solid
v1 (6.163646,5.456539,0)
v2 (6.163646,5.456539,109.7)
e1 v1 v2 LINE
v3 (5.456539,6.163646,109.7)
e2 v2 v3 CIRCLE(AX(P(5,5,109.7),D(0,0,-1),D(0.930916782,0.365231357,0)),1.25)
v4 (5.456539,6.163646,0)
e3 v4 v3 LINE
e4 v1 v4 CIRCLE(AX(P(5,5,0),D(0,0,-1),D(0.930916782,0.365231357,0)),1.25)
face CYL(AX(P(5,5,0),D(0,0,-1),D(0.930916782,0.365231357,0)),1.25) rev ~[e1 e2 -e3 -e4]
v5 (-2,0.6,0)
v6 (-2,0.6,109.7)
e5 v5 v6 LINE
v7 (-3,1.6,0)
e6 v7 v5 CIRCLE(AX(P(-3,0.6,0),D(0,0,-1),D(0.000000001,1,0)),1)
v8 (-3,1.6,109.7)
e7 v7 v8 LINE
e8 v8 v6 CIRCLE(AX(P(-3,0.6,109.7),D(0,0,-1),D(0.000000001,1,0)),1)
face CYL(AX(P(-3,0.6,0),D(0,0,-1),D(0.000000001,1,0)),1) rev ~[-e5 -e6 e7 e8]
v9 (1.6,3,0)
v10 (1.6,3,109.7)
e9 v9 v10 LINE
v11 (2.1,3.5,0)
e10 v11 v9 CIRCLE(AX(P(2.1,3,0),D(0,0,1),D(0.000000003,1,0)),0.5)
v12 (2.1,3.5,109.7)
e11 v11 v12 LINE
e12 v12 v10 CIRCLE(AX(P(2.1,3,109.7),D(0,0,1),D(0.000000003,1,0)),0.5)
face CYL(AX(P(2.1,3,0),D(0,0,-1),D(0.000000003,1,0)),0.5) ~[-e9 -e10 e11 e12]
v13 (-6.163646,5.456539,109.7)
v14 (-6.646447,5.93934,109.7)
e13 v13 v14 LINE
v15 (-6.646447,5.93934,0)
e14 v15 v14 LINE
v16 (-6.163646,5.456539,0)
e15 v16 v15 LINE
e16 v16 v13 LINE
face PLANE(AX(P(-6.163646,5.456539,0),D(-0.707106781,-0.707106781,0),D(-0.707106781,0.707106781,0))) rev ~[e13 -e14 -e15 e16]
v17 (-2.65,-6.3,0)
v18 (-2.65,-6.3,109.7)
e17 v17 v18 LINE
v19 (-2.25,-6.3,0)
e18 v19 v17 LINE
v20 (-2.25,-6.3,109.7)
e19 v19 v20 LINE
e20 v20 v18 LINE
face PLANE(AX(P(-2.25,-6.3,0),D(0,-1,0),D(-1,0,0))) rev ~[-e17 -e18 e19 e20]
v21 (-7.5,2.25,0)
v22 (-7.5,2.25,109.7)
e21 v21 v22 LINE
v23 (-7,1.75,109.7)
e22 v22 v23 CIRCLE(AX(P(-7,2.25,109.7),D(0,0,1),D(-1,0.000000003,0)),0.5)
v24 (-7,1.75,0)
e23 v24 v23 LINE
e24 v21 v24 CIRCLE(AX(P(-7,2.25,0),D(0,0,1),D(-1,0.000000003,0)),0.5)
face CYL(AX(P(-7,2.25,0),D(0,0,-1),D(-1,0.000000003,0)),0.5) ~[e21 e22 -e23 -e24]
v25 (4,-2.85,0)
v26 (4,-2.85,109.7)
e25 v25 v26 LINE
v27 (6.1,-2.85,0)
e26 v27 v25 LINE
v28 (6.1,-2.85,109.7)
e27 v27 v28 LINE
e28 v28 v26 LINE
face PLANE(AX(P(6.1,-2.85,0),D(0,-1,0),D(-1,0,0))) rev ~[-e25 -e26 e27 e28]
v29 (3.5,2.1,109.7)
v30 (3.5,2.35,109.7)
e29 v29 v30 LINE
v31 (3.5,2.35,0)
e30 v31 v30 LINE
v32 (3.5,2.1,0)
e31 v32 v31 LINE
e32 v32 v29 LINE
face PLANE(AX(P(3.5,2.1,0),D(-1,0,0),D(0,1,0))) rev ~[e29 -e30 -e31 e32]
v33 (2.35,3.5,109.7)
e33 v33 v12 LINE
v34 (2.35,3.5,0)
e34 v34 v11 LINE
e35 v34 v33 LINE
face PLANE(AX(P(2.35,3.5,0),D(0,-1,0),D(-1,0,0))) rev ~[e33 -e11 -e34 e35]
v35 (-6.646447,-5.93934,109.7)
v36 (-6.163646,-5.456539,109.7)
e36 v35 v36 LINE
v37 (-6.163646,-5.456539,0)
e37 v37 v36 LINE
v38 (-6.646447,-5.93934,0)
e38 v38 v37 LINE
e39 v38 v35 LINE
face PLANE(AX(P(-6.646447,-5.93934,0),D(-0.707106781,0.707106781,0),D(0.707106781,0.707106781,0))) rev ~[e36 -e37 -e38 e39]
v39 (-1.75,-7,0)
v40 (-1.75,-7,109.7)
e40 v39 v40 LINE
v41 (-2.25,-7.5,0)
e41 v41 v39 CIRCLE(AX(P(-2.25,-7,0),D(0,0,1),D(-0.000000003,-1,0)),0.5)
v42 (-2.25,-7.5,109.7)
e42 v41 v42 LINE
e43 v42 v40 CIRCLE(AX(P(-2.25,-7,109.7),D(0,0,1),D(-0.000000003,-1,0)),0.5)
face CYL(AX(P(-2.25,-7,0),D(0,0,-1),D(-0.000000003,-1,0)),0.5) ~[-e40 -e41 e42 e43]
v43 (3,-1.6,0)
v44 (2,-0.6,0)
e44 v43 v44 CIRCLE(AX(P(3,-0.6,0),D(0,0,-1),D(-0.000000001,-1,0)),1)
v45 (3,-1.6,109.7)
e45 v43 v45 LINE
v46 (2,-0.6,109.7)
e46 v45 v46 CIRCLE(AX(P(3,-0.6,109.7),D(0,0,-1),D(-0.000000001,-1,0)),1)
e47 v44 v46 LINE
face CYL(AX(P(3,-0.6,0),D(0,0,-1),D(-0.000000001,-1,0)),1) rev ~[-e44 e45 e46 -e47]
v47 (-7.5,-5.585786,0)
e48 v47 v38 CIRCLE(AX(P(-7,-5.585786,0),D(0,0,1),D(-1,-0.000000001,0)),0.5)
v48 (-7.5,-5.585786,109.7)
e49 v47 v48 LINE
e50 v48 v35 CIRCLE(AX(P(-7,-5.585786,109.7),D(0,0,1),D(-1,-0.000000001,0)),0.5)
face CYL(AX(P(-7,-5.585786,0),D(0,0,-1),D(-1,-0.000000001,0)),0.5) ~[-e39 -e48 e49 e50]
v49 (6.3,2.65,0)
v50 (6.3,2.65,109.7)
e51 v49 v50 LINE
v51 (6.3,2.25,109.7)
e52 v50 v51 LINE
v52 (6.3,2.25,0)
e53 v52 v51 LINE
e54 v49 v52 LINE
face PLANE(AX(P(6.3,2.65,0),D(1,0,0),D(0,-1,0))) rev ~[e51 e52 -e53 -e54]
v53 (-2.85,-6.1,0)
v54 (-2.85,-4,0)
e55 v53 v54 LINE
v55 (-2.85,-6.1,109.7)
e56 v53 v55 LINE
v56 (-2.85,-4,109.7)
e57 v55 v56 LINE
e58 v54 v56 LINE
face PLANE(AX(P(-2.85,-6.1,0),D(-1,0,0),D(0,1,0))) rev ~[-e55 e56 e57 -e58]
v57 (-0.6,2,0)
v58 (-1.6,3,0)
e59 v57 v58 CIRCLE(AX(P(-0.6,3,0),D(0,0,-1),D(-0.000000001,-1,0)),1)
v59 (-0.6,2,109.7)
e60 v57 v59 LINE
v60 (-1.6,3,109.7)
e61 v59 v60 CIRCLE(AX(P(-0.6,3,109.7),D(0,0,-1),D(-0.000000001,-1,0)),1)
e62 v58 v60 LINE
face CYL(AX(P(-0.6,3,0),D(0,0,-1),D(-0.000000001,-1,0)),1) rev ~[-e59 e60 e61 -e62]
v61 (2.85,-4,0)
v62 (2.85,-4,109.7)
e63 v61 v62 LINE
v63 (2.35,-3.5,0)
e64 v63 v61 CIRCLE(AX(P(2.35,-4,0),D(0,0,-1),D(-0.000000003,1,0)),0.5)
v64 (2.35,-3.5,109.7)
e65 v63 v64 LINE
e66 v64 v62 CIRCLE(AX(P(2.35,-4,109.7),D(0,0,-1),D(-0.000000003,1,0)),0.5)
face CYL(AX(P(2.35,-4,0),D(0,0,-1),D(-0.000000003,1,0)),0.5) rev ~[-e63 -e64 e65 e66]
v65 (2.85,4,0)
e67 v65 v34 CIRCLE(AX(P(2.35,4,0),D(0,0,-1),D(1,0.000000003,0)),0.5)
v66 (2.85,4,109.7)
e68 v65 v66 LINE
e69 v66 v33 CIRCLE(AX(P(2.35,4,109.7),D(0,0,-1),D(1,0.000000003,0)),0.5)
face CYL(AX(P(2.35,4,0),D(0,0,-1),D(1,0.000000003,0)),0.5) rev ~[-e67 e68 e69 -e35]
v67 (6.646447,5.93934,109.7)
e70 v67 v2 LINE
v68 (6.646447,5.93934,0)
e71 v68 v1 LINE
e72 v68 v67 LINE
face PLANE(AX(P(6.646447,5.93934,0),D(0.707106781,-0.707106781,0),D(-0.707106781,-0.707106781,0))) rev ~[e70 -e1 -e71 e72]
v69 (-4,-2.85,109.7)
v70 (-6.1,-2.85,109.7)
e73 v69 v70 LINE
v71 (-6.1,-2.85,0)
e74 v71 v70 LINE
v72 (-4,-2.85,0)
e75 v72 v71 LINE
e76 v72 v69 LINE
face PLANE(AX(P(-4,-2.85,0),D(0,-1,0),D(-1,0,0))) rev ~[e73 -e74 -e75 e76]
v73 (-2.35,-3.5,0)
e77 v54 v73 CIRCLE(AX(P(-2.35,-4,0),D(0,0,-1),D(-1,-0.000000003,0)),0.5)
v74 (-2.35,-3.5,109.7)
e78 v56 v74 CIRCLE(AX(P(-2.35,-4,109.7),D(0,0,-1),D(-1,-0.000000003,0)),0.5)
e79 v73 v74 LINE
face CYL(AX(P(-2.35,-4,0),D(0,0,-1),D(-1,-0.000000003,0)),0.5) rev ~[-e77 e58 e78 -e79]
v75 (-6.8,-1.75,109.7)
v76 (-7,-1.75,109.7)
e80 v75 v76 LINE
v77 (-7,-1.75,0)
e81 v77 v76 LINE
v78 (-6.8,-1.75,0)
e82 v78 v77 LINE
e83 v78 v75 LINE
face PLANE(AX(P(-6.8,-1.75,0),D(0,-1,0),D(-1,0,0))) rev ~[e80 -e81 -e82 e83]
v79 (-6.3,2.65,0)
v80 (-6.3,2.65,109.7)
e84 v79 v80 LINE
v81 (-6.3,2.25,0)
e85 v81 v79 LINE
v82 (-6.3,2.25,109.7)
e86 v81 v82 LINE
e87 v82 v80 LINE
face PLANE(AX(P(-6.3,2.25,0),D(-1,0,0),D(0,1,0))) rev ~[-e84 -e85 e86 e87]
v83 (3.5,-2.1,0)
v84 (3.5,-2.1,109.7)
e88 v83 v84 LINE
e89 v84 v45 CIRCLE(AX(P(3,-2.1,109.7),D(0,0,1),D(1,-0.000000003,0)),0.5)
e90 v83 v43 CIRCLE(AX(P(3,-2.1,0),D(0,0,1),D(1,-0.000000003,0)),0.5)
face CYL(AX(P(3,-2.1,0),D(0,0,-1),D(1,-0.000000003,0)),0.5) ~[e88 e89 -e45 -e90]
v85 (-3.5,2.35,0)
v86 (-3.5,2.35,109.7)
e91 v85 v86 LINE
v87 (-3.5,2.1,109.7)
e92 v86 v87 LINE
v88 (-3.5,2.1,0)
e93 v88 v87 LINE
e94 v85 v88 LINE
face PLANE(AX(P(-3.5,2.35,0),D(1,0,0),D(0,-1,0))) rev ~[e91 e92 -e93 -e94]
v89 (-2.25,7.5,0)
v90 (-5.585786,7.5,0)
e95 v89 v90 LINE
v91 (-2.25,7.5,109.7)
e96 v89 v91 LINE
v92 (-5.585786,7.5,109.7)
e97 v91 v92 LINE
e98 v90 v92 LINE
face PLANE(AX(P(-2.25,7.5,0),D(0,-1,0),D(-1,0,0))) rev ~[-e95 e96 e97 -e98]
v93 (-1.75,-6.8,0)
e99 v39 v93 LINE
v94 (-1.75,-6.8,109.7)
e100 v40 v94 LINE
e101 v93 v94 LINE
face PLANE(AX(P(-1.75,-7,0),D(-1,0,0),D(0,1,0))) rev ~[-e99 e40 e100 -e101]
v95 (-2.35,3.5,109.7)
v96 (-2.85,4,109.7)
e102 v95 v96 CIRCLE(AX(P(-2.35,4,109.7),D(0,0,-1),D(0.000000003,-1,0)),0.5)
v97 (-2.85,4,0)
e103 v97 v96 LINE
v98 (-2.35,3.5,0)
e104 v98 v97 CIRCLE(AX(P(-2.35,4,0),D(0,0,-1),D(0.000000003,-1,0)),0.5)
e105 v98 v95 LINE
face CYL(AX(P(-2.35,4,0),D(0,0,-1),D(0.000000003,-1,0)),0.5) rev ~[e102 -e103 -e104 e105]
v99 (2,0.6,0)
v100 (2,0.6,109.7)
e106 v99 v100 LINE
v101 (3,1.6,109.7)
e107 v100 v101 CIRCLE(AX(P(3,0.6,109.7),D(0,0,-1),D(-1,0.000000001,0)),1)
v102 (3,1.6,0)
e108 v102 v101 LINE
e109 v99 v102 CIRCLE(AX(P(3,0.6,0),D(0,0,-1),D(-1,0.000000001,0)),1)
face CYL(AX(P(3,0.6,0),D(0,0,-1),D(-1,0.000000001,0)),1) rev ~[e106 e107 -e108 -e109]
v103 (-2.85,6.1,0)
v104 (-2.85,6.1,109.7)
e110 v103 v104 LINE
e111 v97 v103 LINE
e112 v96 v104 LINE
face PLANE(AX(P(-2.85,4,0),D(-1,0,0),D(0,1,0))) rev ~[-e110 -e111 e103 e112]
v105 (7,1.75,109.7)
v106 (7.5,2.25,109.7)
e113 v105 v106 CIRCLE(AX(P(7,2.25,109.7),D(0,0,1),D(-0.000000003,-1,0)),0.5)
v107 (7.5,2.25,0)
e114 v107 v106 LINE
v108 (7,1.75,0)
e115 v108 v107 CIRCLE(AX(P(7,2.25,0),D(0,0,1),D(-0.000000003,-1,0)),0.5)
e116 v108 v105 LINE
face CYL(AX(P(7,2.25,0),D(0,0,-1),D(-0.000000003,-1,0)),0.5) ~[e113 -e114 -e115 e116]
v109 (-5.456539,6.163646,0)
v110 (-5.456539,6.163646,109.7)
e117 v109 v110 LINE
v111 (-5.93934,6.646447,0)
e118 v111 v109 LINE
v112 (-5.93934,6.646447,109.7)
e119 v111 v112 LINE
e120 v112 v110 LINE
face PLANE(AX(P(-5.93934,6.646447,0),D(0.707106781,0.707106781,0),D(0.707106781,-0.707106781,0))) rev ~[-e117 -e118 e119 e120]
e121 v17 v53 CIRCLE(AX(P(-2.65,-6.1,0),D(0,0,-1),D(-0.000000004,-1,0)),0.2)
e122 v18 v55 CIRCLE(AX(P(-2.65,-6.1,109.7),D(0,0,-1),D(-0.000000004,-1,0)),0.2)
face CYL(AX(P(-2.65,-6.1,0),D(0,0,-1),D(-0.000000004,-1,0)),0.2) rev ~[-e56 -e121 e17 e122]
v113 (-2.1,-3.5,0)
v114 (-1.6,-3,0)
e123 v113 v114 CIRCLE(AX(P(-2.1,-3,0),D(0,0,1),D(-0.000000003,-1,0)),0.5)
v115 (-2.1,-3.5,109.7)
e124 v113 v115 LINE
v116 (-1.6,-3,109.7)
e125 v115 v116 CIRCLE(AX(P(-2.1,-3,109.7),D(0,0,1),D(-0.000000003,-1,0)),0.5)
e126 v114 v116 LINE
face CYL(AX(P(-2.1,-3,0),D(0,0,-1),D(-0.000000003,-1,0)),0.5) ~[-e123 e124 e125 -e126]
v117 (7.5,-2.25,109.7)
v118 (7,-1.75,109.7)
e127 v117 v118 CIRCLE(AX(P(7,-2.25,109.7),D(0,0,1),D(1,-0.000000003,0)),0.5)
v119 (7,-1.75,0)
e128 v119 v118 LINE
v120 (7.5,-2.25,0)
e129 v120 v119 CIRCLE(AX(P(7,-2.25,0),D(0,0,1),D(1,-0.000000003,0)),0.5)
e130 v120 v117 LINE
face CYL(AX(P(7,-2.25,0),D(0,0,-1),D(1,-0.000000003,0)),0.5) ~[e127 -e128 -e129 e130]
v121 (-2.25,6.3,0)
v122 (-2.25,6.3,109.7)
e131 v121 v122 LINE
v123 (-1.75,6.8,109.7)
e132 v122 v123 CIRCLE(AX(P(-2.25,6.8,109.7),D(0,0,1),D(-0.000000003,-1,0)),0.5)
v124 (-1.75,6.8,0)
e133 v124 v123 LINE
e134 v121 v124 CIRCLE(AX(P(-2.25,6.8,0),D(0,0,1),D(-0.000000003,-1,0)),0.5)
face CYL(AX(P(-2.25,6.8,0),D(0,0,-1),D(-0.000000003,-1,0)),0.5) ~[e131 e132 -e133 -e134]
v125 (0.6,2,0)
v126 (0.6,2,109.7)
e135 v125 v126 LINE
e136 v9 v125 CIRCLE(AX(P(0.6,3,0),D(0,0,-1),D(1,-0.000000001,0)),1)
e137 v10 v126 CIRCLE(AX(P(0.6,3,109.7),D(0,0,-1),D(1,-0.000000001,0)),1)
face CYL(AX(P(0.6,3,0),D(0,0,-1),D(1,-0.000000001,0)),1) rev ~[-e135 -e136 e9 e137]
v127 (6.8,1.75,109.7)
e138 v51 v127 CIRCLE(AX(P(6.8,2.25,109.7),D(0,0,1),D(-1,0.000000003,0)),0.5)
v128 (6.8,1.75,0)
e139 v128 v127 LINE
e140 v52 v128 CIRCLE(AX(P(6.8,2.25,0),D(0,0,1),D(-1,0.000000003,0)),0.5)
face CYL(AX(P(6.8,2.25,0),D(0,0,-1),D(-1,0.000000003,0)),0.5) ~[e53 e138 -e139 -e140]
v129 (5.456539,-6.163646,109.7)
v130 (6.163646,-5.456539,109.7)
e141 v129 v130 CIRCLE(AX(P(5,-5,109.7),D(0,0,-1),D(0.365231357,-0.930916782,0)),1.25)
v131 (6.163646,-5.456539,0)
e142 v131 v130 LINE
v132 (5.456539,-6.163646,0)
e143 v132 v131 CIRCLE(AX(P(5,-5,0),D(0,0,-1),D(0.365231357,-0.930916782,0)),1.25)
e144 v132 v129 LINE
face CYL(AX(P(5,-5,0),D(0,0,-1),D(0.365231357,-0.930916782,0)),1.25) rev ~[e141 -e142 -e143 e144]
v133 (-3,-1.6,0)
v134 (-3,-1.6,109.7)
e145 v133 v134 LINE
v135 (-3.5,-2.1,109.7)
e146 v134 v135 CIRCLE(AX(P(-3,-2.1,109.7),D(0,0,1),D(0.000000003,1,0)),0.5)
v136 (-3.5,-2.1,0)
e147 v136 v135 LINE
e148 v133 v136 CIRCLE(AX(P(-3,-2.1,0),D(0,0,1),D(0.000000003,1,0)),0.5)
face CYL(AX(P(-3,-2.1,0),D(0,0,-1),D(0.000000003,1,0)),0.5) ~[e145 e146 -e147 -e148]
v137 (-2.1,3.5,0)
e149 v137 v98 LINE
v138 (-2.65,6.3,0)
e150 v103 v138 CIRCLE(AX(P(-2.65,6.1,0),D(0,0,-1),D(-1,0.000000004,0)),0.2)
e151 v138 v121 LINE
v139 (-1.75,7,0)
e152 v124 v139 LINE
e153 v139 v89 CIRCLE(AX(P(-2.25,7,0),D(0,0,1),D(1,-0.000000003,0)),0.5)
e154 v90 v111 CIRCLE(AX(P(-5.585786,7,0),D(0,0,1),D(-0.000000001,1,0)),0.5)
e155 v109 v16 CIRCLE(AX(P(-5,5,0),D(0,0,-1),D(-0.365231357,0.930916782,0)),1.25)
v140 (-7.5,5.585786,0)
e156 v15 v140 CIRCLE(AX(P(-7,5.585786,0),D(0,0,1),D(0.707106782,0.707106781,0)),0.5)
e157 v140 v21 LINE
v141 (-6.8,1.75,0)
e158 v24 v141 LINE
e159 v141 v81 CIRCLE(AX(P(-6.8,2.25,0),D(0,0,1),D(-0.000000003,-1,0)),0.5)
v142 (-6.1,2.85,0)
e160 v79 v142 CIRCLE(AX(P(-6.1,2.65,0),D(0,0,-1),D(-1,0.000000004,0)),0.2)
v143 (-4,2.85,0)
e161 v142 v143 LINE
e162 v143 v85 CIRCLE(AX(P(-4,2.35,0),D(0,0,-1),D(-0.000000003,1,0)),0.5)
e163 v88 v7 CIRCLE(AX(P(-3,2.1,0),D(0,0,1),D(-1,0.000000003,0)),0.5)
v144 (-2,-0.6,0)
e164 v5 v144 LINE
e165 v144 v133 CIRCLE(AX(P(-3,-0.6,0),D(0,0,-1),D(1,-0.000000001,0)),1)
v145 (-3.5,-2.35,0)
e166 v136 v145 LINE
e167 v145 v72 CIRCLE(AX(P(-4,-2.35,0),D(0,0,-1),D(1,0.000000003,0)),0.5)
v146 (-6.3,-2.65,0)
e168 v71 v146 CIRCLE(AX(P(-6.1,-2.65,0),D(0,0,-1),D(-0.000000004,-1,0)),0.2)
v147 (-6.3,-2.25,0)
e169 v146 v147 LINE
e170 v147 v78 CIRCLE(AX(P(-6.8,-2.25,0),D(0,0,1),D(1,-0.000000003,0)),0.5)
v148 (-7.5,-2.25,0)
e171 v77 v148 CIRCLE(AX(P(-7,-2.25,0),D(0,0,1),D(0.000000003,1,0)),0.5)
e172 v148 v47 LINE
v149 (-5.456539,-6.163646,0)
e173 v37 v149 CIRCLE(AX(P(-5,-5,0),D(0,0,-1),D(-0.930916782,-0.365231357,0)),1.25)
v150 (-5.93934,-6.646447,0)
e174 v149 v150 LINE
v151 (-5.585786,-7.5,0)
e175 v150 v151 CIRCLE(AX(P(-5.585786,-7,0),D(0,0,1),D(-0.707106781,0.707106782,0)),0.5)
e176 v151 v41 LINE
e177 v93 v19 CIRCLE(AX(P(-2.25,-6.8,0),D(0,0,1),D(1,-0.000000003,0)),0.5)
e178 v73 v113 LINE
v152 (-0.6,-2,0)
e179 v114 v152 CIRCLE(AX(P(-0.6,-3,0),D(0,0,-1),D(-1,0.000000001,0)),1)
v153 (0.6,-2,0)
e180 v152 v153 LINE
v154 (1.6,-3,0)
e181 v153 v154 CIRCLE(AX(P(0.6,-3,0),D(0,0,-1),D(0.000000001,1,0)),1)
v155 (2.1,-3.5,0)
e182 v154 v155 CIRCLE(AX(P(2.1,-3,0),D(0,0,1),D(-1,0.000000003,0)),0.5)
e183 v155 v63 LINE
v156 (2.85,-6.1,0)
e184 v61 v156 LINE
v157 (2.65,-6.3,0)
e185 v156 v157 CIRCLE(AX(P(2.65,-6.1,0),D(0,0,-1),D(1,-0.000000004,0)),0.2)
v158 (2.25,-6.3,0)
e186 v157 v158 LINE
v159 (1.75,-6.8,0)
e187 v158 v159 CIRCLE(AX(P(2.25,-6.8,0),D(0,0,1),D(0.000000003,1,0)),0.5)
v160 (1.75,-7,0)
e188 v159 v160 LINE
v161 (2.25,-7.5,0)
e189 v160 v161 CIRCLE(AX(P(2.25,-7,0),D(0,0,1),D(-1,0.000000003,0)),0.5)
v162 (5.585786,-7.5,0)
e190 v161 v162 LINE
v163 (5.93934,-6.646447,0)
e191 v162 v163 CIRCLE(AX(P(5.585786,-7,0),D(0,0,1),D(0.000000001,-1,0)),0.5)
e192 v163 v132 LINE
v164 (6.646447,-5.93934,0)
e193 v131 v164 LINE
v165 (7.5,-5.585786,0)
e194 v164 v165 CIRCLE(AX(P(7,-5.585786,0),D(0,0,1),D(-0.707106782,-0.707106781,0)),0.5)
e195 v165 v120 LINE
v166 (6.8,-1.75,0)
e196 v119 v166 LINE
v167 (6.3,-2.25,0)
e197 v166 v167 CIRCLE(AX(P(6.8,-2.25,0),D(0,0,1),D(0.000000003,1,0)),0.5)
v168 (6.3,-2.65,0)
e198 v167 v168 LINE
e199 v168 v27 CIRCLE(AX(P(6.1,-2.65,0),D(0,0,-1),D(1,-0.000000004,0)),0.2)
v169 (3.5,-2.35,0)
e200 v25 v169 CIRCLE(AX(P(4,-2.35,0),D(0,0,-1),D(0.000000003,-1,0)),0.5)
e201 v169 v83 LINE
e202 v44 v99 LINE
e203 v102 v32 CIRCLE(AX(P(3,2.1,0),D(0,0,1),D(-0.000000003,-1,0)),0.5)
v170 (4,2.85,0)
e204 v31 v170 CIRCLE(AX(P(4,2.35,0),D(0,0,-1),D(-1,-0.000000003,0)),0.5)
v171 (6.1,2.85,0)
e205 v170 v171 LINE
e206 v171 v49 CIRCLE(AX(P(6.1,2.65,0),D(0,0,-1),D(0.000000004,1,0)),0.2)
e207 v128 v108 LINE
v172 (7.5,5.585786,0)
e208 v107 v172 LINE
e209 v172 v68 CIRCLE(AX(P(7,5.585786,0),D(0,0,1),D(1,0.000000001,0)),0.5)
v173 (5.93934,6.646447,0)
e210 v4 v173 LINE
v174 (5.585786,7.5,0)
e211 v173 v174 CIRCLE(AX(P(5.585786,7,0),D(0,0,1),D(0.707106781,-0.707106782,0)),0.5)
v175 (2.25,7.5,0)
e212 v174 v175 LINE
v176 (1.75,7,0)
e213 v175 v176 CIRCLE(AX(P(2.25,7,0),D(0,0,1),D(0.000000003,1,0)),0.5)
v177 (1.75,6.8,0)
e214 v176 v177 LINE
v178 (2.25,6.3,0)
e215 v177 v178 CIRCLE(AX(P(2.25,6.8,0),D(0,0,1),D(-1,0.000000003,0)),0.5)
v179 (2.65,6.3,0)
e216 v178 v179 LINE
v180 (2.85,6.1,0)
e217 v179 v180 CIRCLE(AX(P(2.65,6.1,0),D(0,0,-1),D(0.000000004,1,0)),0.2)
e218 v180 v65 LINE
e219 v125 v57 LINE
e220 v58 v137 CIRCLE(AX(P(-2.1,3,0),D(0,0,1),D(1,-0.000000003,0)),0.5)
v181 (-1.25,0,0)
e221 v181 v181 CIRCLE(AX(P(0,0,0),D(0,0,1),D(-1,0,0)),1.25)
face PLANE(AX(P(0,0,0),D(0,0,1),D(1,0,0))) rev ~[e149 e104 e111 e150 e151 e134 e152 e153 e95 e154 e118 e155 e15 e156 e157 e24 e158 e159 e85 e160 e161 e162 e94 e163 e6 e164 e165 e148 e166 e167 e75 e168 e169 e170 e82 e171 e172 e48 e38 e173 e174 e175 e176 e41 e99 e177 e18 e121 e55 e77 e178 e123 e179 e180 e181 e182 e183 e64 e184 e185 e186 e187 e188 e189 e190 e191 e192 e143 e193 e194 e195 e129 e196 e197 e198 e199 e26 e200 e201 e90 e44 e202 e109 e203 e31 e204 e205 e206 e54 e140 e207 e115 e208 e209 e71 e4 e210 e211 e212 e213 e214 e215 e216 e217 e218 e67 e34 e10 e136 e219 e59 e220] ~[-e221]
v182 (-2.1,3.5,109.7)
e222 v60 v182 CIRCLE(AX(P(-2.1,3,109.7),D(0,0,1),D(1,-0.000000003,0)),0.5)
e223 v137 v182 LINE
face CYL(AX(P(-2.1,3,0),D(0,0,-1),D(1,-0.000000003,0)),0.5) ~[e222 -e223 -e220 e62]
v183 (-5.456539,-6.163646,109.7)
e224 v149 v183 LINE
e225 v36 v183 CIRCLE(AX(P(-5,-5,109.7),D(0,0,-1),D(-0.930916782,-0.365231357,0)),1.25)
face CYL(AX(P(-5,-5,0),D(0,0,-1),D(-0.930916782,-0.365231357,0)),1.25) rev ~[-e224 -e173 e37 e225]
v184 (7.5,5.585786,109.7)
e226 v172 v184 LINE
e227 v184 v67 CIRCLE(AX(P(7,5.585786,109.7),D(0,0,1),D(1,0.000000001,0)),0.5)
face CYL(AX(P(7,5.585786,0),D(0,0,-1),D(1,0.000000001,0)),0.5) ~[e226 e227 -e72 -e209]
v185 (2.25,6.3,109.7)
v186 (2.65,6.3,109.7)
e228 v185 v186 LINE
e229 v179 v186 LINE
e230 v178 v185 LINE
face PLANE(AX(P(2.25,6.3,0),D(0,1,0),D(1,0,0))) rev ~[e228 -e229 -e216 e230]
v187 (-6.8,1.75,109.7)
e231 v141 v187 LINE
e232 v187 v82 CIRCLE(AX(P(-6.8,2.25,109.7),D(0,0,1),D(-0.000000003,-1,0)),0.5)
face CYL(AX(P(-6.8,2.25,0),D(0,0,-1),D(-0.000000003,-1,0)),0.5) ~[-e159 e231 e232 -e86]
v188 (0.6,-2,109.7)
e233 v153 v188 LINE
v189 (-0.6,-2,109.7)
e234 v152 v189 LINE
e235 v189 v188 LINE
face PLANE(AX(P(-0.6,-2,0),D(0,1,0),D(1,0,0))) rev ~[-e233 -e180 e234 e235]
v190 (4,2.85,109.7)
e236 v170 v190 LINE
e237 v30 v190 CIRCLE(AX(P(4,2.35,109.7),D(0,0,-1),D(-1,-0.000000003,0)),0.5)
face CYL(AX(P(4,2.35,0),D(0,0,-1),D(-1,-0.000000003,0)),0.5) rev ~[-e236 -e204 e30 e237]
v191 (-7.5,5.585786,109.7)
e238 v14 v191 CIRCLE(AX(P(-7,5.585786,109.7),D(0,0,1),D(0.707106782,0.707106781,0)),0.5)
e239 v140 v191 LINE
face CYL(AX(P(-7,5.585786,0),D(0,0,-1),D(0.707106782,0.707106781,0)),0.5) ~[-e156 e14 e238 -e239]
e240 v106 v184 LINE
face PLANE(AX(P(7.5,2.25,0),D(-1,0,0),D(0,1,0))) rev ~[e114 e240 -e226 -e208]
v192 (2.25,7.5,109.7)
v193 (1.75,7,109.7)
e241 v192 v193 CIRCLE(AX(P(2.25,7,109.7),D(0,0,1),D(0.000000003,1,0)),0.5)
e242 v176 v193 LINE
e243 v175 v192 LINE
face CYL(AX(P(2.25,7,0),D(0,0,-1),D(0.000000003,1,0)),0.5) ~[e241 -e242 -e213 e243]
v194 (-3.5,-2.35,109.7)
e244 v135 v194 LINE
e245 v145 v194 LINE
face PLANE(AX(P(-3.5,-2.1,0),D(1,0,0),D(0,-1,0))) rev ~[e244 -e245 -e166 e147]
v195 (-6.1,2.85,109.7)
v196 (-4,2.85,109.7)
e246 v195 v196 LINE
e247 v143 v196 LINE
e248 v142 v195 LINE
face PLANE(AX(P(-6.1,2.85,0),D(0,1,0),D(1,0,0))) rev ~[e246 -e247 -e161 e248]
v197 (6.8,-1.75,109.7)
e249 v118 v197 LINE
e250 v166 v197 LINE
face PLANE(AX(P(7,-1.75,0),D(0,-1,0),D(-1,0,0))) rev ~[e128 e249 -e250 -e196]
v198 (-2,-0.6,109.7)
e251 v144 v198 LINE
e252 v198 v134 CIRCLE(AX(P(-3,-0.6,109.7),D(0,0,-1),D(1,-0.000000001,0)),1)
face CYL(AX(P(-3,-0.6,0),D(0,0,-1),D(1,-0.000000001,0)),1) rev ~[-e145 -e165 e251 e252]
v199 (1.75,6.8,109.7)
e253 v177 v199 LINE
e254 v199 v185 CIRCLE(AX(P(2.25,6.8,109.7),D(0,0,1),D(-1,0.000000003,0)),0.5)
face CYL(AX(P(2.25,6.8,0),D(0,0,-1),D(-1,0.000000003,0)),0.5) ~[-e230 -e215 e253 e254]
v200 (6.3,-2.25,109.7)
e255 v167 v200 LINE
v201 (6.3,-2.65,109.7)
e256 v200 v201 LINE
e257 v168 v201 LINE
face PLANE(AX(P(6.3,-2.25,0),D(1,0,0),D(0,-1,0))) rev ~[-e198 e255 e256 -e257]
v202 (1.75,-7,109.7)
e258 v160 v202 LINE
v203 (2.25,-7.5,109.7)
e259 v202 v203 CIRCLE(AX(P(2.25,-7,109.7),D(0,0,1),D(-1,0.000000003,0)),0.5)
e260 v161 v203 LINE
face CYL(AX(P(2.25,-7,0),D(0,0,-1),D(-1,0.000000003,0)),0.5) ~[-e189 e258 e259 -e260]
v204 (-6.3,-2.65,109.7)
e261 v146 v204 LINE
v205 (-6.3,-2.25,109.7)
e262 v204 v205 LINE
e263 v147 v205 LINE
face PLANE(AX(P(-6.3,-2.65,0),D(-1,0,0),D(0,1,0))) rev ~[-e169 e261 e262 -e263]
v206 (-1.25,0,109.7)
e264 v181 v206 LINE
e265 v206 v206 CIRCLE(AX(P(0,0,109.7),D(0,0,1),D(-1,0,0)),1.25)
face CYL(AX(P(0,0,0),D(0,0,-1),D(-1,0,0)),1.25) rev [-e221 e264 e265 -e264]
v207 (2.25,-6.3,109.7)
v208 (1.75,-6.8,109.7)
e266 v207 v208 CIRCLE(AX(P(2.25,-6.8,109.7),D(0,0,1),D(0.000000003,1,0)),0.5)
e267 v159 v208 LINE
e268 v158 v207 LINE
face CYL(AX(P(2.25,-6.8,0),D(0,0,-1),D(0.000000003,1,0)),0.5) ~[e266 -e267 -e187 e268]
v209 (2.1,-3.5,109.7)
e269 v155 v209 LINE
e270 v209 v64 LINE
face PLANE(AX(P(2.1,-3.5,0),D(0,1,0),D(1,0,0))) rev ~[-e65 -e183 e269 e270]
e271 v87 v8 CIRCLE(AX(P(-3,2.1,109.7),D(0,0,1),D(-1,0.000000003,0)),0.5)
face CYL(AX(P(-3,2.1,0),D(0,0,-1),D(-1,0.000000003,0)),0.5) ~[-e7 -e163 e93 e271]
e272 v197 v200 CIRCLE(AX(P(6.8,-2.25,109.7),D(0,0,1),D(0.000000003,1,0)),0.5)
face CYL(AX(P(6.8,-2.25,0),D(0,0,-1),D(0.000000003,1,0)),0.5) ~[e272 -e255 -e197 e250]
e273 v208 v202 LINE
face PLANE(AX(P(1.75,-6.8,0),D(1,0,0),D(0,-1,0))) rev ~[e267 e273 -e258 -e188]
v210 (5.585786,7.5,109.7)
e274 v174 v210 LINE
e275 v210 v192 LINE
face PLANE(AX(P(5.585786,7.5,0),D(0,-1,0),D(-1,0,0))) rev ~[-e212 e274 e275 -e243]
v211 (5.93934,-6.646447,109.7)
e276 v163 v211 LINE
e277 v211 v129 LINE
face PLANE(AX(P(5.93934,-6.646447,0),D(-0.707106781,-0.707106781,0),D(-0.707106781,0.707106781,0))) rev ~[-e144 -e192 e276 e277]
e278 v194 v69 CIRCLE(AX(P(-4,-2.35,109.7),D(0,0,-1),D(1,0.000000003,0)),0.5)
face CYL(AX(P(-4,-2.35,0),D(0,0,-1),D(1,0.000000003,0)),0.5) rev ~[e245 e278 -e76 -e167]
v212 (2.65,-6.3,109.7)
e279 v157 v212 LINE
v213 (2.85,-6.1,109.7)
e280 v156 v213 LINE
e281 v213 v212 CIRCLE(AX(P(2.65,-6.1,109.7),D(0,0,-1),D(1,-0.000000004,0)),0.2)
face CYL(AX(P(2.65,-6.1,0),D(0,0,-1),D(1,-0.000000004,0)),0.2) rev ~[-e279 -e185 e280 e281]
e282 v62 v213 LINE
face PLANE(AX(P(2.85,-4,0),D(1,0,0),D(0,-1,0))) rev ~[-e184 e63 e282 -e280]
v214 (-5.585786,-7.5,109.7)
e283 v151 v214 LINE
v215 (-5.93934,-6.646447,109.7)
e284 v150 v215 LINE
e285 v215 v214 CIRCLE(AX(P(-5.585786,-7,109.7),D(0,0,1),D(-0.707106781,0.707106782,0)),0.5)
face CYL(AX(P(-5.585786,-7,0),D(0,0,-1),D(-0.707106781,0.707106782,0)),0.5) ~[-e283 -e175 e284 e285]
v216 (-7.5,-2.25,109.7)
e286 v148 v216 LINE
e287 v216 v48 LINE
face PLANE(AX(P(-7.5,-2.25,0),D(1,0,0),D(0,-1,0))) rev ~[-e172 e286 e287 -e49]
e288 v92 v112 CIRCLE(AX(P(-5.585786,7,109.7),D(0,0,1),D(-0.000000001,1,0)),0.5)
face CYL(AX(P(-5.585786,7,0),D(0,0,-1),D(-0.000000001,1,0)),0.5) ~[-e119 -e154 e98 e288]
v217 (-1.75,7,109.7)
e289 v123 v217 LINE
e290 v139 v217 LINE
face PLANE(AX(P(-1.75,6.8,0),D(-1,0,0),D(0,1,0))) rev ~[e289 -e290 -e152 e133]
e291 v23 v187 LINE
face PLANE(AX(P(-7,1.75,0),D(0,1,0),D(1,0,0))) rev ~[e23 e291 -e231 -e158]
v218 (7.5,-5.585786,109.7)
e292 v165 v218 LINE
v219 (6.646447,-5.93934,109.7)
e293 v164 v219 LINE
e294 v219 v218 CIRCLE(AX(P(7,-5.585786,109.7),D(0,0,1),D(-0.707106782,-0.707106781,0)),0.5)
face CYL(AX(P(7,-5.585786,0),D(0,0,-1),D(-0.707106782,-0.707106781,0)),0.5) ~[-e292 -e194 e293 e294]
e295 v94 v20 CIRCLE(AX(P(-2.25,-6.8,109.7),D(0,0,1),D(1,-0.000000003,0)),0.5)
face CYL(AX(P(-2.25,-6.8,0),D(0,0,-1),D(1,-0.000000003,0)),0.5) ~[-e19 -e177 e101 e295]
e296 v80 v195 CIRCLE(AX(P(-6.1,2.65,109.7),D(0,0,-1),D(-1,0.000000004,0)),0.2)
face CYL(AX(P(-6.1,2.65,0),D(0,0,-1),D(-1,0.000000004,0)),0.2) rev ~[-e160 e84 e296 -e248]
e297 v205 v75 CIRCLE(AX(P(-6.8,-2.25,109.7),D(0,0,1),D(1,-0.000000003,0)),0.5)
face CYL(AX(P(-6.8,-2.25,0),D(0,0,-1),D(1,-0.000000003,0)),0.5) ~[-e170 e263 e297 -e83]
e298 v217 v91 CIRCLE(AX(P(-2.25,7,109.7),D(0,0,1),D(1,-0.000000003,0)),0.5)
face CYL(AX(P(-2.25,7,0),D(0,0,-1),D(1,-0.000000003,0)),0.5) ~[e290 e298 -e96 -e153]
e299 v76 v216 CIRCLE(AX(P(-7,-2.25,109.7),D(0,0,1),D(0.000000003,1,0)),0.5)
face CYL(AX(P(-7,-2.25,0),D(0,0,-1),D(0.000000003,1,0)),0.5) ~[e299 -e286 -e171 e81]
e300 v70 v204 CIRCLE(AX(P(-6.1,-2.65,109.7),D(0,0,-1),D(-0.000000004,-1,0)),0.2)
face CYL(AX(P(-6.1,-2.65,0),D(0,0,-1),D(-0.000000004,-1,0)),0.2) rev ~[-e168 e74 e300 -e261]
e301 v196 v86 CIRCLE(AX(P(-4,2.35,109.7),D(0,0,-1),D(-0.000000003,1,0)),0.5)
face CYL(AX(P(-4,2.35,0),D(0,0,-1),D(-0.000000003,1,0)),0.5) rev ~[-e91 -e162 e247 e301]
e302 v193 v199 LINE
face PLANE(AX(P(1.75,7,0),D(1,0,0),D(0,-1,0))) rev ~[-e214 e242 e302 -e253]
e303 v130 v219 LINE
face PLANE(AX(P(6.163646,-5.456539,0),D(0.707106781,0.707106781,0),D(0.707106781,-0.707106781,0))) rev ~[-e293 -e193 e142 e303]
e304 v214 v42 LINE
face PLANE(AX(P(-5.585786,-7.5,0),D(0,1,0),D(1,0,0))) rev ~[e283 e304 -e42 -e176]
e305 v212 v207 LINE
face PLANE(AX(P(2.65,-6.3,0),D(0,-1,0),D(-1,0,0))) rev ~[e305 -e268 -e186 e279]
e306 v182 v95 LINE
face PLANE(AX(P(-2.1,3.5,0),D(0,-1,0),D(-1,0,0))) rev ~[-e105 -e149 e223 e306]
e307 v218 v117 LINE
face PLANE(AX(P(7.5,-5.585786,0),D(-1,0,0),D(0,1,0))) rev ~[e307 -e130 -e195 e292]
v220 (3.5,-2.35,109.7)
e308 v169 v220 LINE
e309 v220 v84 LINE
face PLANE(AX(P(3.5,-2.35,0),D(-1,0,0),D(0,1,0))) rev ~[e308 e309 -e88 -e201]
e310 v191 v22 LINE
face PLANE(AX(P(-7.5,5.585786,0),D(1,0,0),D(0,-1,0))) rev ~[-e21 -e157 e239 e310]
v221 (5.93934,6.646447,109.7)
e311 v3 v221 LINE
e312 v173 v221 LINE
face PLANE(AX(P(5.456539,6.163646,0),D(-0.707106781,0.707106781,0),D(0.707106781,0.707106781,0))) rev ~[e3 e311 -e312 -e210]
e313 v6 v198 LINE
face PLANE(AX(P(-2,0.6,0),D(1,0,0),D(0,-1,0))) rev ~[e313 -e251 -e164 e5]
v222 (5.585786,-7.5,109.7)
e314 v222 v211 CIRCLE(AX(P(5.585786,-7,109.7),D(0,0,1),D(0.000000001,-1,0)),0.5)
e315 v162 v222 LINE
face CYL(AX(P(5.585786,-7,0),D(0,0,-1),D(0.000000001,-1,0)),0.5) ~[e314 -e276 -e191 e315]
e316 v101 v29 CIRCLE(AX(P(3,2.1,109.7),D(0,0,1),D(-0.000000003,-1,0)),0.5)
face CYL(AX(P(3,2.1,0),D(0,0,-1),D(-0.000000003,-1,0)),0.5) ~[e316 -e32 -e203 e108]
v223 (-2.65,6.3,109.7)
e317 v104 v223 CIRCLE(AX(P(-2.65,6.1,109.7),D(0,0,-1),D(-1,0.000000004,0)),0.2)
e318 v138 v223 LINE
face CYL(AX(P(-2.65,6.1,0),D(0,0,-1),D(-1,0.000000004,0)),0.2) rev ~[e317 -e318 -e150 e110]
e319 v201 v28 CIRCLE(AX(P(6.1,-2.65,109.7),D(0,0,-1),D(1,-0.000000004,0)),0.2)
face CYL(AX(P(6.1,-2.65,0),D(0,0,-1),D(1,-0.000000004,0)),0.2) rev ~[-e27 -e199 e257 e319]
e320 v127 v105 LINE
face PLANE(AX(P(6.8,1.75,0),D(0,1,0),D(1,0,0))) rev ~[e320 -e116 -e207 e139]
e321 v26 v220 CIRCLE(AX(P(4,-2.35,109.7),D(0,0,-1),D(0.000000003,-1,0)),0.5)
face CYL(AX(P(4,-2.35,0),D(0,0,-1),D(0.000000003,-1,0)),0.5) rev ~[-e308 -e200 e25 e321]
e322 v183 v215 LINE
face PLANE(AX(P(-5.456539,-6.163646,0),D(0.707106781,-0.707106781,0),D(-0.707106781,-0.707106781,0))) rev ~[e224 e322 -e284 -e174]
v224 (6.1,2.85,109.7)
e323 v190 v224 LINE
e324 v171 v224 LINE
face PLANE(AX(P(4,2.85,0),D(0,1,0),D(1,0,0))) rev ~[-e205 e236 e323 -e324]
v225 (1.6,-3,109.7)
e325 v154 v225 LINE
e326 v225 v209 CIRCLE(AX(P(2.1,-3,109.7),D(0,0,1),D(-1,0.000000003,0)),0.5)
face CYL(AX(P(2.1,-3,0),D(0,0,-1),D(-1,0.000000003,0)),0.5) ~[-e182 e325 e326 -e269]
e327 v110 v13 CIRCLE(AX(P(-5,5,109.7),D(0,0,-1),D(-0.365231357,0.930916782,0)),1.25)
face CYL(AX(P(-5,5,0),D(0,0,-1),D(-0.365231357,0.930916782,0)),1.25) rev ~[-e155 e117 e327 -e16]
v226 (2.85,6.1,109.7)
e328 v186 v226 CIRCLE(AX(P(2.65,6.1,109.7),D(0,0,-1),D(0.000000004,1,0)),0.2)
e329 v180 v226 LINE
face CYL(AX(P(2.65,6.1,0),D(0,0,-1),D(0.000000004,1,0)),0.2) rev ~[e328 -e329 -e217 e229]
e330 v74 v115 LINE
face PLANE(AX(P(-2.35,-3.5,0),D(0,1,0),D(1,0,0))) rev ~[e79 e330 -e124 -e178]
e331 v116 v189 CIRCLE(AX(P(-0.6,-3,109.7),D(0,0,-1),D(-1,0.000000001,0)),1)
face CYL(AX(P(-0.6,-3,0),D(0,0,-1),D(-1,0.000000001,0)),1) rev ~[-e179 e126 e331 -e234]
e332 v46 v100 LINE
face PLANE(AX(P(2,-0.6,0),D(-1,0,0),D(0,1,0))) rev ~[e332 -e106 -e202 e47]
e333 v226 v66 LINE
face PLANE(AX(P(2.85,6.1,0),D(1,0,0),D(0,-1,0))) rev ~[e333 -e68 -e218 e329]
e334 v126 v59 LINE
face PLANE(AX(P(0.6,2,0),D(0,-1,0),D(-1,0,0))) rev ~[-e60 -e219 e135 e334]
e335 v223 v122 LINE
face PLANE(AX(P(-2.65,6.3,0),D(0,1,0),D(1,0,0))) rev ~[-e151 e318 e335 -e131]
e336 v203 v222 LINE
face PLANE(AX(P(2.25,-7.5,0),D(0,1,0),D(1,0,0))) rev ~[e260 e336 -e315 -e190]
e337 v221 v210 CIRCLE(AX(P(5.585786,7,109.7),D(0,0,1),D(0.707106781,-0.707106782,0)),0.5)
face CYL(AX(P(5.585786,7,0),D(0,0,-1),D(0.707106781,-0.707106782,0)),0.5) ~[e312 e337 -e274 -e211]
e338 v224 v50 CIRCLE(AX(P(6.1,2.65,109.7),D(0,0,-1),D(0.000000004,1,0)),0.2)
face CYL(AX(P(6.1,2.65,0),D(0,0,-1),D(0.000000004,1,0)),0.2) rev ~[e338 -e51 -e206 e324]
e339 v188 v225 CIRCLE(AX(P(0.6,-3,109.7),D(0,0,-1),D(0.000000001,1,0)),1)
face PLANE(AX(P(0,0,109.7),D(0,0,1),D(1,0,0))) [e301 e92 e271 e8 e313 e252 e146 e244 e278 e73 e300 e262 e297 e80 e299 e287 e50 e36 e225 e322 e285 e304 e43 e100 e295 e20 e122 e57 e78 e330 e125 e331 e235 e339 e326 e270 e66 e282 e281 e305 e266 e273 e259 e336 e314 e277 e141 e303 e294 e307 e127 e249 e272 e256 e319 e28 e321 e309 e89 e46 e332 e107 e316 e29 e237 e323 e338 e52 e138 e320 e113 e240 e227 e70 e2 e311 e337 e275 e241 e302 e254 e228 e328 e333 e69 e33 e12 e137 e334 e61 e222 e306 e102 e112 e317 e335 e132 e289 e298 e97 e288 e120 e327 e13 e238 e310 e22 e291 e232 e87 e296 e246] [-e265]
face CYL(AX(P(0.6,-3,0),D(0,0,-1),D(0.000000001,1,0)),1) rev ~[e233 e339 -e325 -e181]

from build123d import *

# Parameters (mm, degrees)
SKETCH1_R           = 1.25
BOSS_EXTRUDE1_DEPTH = 109.700000056


with BuildPart() as part:
    # Sketch1 → Boss-Extrude1 (new body)
    with BuildSketch(Plane.XY):
        with BuildLine():
            Line((6.646446609, 5.939339828), (6.163645978, 5.456539197))
            ThreePointArc((6.163645978, 5.456539197), (4.116116524, 4.116116524), (5.456539197, 6.163645978))
            Line((5.456539197, 6.163645978), (5.939339828, 6.646446609))
            ThreePointArc((5.939339828, 6.646446609), (6.047726204, 7.191341716), (5.585786438, 7.5))
            Line((5.585786438, 7.5), (2.25, 7.5))
            ThreePointArc((2.25, 7.5), (1.896446609, 7.353553391), (1.75, 7))
            Line((1.75, 7), (1.75, 6.8))
            ThreePointArc((1.75, 6.8), (1.896446609, 6.446446609), (2.25, 6.3))
            Line((2.25, 6.3), (2.65, 6.3))
            ThreePointArc((2.65, 6.3), (2.791421356, 6.241421356), (2.85, 6.1))
            Line((2.85, 6.1), (2.85, 4))
            ThreePointArc((2.85, 4), (2.703553391, 3.646446609), (2.35, 3.5))
            Line((2.35, 3.5), (2.1, 3.5))
            ThreePointArc((2.1, 3.5), (1.746446609, 3.353553391), (1.6, 3))
            ThreePointArc((1.6, 3), (1.307106781, 2.292893219), (0.6, 2))
            Line((0.6, 2), (-0.6, 2))
            ThreePointArc((-0.6, 2), (-1.307106781, 2.292893219), (-1.6, 3))
            ThreePointArc((-1.6, 3), (-1.746446609, 3.353553391), (-2.1, 3.5))
            Line((-2.1, 3.5), (-2.35, 3.5))
            ThreePointArc((-2.35, 3.5), (-2.703553391, 3.646446609), (-2.85, 4))
            Line((-2.85, 4), (-2.85, 6.1))
            ThreePointArc((-2.85, 6.1), (-2.791421356, 6.241421356), (-2.65, 6.3))
            Line((-2.65, 6.3), (-2.25, 6.3))
            ThreePointArc((-2.25, 6.3), (-1.896446609, 6.446446609), (-1.75, 6.8))
            Line((-1.75, 6.8), (-1.75, 7))
            ThreePointArc((-1.75, 7), (-1.896446609, 7.353553391), (-2.25, 7.5))
            Line((-2.25, 7.5), (-5.585786438, 7.5))
            ThreePointArc((-5.585786438, 7.5), (-6.047726204, 7.191341716), (-5.939339828, 6.646446609))
            Line((-5.939339828, 6.646446609), (-5.456539197, 6.163645978))
            ThreePointArc((-5.456539197, 6.163645978), (-4.116116524, 4.116116524), (-6.163645978, 5.456539197))
            Line((-6.163645978, 5.456539197), (-6.646446609, 5.939339828))
            ThreePointArc((-6.646446609, 5.939339828), (-7.191341716, 6.047726204), (-7.5, 5.585786438))
            Line((-7.5, 5.585786438), (-7.5, 2.25))
            ThreePointArc((-7.5, 2.25), (-7.353553391, 1.896446609), (-7, 1.75))
            Line((-7, 1.75), (-6.8, 1.75))
            ThreePointArc((-6.8, 1.75), (-6.446446609, 1.896446609), (-6.3, 2.25))
            Line((-6.3, 2.25), (-6.3, 2.65))
            ThreePointArc((-6.3, 2.65), (-6.241421356, 2.791421356), (-6.1, 2.85))
            Line((-6.1, 2.85), (-4, 2.85))
            ThreePointArc((-4, 2.85), (-3.646446609, 2.703553391), (-3.5, 2.35))
            Line((-3.5, 2.35), (-3.5, 2.1))
            ThreePointArc((-3.5, 2.1), (-3.353553391, 1.746446609), (-3, 1.6))
            ThreePointArc((-3, 1.6), (-2.292893219, 1.307106781), (-2, 0.6))
            Line((-2, 0.6), (-2, -0.6))
            ThreePointArc((-2, -0.6), (-2.292893219, -1.307106781), (-3, -1.6))
            ThreePointArc((-3, -1.6), (-3.353553391, -1.746446609), (-3.5, -2.1))
            Line((-3.5, -2.1), (-3.5, -2.35))
            ThreePointArc((-3.5, -2.35), (-3.646446609, -2.703553391), (-4, -2.85))
            Line((-4, -2.85), (-6.1, -2.85))
            ThreePointArc((-6.1, -2.85), (-6.241421356, -2.791421356), (-6.3, -2.65))
            Line((-6.3, -2.65), (-6.3, -2.25))
            ThreePointArc((-6.3, -2.25), (-6.446446609, -1.896446609), (-6.8, -1.75))
            Line((-6.8, -1.75), (-7, -1.75))
            ThreePointArc((-7, -1.75), (-7.353553391, -1.896446609), (-7.5, -2.25))
            Line((-7.5, -2.25), (-7.5, -5.585786438))
            ThreePointArc((-7.5, -5.585786438), (-7.191341716, -6.047726204), (-6.646446609, -5.939339828))
            Line((-6.646446609, -5.939339828), (-6.163645978, -5.456539197))
            ThreePointArc((-6.163645978, -5.456539197), (-4.116116524, -4.116116524), (-5.456539197, -6.163645978))
            Line((-5.456539197, -6.163645978), (-5.939339828, -6.646446609))
            ThreePointArc((-5.939339828, -6.646446609), (-6.047726204, -7.191341716), (-5.585786438, -7.5))
            Line((-5.585786438, -7.5), (-2.25, -7.5))
            ThreePointArc((-2.25, -7.5), (-1.896446609, -7.353553391), (-1.75, -7))
            Line((-1.75, -7), (-1.75, -6.8))
            ThreePointArc((-1.75, -6.8), (-1.896446609, -6.446446609), (-2.25, -6.3))
            Line((-2.25, -6.3), (-2.65, -6.3))
            ThreePointArc((-2.65, -6.3), (-2.791421356, -6.241421356), (-2.85, -6.1))
            Line((-2.85, -6.1), (-2.85, -4))
            ThreePointArc((-2.85, -4), (-2.703553391, -3.646446609), (-2.35, -3.5))
            Line((-2.35, -3.5), (-2.1, -3.5))
            ThreePointArc((-2.1, -3.5), (-1.746446609, -3.353553391), (-1.6, -3))
            ThreePointArc((-1.6, -3), (-1.307106781, -2.292893219), (-0.6, -2))
            Line((-0.6, -2), (0.6, -2))
            ThreePointArc((0.6, -2), (1.307106781, -2.292893219), (1.6, -3))
            ThreePointArc((1.6, -3), (1.746446609, -3.353553391), (2.1, -3.5))
            Line((2.1, -3.5), (2.35, -3.5))
            ThreePointArc((2.35, -3.5), (2.703553391, -3.646446609), (2.85, -4))
            Line((2.85, -4), (2.85, -6.1))
            ThreePointArc((2.85, -6.1), (2.791421356, -6.241421356), (2.65, -6.3))
            Line((2.65, -6.3), (2.25, -6.3))
            ThreePointArc((2.25, -6.3), (1.896446609, -6.446446609), (1.75, -6.8))
            Line((1.75, -6.8), (1.75, -7))
            ThreePointArc((1.75, -7), (1.896446609, -7.353553391), (2.25, -7.5))
            Line((2.25, -7.5), (5.585786438, -7.5))
            ThreePointArc((5.585786438, -7.5), (6.047726204, -7.191341716), (5.939339828, -6.646446609))
            Line((5.939339828, -6.646446609), (5.456539197, -6.163645978))
            ThreePointArc((5.456539197, -6.163645978), (4.116116524, -4.116116524), (6.163645978, -5.456539197))
            Line((6.163645978, -5.456539197), (6.646446609, -5.939339828))
            ThreePointArc((6.646446609, -5.939339828), (7.191341716, -6.047726204), (7.5, -5.585786438))
            Line((7.5, -5.585786438), (7.5, -2.25))
            ThreePointArc((7.5, -2.25), (7.353553391, -1.896446609), (7, -1.75))
            Line((7, -1.75), (6.8, -1.75))
            ThreePointArc((6.8, -1.75), (6.446446609, -1.896446609), (6.3, -2.25))
            Line((6.3, -2.25), (6.3, -2.65))
            ThreePointArc((6.3, -2.65), (6.241421356, -2.791421356), (6.1, -2.85))
            Line((6.1, -2.85), (4, -2.85))
            ThreePointArc((4, -2.85), (3.646446609, -2.703553391), (3.5, -2.35))
            Line((3.5, -2.35), (3.5, -2.1))
            ThreePointArc((3.5, -2.1), (3.353553391, -1.746446609), (3, -1.6))
            ThreePointArc((3, -1.6), (2.292893219, -1.307106781), (2, -0.6))
            Line((2, -0.6), (2, 0.6))
            ThreePointArc((2, 0.6), (2.292893219, 1.307106781), (3, 1.6))
            ThreePointArc((3, 1.6), (3.353553391, 1.746446609), (3.5, 2.1))
            Line((3.5, 2.1), (3.5, 2.35))
            ThreePointArc((3.5, 2.35), (3.646446609, 2.703553391), (4, 2.85))
            Line((4, 2.85), (6.1, 2.85))
            ThreePointArc((6.1, 2.85), (6.241421356, 2.791421356), (6.3, 2.65))
            Line((6.3, 2.65), (6.3, 2.25))
            ThreePointArc((6.3, 2.25), (6.446446609, 1.896446609), (6.8, 1.75))
            Line((6.8, 1.75), (7, 1.75))
            ThreePointArc((7, 1.75), (7.353553391, 1.896446609), (7.5, 2.25))
            Line((7.5, 2.25), (7.5, 5.585786438))
            ThreePointArc((7.5, 5.585786438), (7.191341716, 6.047726204), (6.646446609, 5.939339828))
        make_face()
        with Locations(Location((0, 0, 0), (0, 0, 180))):
            Circle(SKETCH1_R, mode=Mode.SUBTRACT)
    extrude(amount=BOSS_EXTRUDE1_DEPTH)


solid = part.part
